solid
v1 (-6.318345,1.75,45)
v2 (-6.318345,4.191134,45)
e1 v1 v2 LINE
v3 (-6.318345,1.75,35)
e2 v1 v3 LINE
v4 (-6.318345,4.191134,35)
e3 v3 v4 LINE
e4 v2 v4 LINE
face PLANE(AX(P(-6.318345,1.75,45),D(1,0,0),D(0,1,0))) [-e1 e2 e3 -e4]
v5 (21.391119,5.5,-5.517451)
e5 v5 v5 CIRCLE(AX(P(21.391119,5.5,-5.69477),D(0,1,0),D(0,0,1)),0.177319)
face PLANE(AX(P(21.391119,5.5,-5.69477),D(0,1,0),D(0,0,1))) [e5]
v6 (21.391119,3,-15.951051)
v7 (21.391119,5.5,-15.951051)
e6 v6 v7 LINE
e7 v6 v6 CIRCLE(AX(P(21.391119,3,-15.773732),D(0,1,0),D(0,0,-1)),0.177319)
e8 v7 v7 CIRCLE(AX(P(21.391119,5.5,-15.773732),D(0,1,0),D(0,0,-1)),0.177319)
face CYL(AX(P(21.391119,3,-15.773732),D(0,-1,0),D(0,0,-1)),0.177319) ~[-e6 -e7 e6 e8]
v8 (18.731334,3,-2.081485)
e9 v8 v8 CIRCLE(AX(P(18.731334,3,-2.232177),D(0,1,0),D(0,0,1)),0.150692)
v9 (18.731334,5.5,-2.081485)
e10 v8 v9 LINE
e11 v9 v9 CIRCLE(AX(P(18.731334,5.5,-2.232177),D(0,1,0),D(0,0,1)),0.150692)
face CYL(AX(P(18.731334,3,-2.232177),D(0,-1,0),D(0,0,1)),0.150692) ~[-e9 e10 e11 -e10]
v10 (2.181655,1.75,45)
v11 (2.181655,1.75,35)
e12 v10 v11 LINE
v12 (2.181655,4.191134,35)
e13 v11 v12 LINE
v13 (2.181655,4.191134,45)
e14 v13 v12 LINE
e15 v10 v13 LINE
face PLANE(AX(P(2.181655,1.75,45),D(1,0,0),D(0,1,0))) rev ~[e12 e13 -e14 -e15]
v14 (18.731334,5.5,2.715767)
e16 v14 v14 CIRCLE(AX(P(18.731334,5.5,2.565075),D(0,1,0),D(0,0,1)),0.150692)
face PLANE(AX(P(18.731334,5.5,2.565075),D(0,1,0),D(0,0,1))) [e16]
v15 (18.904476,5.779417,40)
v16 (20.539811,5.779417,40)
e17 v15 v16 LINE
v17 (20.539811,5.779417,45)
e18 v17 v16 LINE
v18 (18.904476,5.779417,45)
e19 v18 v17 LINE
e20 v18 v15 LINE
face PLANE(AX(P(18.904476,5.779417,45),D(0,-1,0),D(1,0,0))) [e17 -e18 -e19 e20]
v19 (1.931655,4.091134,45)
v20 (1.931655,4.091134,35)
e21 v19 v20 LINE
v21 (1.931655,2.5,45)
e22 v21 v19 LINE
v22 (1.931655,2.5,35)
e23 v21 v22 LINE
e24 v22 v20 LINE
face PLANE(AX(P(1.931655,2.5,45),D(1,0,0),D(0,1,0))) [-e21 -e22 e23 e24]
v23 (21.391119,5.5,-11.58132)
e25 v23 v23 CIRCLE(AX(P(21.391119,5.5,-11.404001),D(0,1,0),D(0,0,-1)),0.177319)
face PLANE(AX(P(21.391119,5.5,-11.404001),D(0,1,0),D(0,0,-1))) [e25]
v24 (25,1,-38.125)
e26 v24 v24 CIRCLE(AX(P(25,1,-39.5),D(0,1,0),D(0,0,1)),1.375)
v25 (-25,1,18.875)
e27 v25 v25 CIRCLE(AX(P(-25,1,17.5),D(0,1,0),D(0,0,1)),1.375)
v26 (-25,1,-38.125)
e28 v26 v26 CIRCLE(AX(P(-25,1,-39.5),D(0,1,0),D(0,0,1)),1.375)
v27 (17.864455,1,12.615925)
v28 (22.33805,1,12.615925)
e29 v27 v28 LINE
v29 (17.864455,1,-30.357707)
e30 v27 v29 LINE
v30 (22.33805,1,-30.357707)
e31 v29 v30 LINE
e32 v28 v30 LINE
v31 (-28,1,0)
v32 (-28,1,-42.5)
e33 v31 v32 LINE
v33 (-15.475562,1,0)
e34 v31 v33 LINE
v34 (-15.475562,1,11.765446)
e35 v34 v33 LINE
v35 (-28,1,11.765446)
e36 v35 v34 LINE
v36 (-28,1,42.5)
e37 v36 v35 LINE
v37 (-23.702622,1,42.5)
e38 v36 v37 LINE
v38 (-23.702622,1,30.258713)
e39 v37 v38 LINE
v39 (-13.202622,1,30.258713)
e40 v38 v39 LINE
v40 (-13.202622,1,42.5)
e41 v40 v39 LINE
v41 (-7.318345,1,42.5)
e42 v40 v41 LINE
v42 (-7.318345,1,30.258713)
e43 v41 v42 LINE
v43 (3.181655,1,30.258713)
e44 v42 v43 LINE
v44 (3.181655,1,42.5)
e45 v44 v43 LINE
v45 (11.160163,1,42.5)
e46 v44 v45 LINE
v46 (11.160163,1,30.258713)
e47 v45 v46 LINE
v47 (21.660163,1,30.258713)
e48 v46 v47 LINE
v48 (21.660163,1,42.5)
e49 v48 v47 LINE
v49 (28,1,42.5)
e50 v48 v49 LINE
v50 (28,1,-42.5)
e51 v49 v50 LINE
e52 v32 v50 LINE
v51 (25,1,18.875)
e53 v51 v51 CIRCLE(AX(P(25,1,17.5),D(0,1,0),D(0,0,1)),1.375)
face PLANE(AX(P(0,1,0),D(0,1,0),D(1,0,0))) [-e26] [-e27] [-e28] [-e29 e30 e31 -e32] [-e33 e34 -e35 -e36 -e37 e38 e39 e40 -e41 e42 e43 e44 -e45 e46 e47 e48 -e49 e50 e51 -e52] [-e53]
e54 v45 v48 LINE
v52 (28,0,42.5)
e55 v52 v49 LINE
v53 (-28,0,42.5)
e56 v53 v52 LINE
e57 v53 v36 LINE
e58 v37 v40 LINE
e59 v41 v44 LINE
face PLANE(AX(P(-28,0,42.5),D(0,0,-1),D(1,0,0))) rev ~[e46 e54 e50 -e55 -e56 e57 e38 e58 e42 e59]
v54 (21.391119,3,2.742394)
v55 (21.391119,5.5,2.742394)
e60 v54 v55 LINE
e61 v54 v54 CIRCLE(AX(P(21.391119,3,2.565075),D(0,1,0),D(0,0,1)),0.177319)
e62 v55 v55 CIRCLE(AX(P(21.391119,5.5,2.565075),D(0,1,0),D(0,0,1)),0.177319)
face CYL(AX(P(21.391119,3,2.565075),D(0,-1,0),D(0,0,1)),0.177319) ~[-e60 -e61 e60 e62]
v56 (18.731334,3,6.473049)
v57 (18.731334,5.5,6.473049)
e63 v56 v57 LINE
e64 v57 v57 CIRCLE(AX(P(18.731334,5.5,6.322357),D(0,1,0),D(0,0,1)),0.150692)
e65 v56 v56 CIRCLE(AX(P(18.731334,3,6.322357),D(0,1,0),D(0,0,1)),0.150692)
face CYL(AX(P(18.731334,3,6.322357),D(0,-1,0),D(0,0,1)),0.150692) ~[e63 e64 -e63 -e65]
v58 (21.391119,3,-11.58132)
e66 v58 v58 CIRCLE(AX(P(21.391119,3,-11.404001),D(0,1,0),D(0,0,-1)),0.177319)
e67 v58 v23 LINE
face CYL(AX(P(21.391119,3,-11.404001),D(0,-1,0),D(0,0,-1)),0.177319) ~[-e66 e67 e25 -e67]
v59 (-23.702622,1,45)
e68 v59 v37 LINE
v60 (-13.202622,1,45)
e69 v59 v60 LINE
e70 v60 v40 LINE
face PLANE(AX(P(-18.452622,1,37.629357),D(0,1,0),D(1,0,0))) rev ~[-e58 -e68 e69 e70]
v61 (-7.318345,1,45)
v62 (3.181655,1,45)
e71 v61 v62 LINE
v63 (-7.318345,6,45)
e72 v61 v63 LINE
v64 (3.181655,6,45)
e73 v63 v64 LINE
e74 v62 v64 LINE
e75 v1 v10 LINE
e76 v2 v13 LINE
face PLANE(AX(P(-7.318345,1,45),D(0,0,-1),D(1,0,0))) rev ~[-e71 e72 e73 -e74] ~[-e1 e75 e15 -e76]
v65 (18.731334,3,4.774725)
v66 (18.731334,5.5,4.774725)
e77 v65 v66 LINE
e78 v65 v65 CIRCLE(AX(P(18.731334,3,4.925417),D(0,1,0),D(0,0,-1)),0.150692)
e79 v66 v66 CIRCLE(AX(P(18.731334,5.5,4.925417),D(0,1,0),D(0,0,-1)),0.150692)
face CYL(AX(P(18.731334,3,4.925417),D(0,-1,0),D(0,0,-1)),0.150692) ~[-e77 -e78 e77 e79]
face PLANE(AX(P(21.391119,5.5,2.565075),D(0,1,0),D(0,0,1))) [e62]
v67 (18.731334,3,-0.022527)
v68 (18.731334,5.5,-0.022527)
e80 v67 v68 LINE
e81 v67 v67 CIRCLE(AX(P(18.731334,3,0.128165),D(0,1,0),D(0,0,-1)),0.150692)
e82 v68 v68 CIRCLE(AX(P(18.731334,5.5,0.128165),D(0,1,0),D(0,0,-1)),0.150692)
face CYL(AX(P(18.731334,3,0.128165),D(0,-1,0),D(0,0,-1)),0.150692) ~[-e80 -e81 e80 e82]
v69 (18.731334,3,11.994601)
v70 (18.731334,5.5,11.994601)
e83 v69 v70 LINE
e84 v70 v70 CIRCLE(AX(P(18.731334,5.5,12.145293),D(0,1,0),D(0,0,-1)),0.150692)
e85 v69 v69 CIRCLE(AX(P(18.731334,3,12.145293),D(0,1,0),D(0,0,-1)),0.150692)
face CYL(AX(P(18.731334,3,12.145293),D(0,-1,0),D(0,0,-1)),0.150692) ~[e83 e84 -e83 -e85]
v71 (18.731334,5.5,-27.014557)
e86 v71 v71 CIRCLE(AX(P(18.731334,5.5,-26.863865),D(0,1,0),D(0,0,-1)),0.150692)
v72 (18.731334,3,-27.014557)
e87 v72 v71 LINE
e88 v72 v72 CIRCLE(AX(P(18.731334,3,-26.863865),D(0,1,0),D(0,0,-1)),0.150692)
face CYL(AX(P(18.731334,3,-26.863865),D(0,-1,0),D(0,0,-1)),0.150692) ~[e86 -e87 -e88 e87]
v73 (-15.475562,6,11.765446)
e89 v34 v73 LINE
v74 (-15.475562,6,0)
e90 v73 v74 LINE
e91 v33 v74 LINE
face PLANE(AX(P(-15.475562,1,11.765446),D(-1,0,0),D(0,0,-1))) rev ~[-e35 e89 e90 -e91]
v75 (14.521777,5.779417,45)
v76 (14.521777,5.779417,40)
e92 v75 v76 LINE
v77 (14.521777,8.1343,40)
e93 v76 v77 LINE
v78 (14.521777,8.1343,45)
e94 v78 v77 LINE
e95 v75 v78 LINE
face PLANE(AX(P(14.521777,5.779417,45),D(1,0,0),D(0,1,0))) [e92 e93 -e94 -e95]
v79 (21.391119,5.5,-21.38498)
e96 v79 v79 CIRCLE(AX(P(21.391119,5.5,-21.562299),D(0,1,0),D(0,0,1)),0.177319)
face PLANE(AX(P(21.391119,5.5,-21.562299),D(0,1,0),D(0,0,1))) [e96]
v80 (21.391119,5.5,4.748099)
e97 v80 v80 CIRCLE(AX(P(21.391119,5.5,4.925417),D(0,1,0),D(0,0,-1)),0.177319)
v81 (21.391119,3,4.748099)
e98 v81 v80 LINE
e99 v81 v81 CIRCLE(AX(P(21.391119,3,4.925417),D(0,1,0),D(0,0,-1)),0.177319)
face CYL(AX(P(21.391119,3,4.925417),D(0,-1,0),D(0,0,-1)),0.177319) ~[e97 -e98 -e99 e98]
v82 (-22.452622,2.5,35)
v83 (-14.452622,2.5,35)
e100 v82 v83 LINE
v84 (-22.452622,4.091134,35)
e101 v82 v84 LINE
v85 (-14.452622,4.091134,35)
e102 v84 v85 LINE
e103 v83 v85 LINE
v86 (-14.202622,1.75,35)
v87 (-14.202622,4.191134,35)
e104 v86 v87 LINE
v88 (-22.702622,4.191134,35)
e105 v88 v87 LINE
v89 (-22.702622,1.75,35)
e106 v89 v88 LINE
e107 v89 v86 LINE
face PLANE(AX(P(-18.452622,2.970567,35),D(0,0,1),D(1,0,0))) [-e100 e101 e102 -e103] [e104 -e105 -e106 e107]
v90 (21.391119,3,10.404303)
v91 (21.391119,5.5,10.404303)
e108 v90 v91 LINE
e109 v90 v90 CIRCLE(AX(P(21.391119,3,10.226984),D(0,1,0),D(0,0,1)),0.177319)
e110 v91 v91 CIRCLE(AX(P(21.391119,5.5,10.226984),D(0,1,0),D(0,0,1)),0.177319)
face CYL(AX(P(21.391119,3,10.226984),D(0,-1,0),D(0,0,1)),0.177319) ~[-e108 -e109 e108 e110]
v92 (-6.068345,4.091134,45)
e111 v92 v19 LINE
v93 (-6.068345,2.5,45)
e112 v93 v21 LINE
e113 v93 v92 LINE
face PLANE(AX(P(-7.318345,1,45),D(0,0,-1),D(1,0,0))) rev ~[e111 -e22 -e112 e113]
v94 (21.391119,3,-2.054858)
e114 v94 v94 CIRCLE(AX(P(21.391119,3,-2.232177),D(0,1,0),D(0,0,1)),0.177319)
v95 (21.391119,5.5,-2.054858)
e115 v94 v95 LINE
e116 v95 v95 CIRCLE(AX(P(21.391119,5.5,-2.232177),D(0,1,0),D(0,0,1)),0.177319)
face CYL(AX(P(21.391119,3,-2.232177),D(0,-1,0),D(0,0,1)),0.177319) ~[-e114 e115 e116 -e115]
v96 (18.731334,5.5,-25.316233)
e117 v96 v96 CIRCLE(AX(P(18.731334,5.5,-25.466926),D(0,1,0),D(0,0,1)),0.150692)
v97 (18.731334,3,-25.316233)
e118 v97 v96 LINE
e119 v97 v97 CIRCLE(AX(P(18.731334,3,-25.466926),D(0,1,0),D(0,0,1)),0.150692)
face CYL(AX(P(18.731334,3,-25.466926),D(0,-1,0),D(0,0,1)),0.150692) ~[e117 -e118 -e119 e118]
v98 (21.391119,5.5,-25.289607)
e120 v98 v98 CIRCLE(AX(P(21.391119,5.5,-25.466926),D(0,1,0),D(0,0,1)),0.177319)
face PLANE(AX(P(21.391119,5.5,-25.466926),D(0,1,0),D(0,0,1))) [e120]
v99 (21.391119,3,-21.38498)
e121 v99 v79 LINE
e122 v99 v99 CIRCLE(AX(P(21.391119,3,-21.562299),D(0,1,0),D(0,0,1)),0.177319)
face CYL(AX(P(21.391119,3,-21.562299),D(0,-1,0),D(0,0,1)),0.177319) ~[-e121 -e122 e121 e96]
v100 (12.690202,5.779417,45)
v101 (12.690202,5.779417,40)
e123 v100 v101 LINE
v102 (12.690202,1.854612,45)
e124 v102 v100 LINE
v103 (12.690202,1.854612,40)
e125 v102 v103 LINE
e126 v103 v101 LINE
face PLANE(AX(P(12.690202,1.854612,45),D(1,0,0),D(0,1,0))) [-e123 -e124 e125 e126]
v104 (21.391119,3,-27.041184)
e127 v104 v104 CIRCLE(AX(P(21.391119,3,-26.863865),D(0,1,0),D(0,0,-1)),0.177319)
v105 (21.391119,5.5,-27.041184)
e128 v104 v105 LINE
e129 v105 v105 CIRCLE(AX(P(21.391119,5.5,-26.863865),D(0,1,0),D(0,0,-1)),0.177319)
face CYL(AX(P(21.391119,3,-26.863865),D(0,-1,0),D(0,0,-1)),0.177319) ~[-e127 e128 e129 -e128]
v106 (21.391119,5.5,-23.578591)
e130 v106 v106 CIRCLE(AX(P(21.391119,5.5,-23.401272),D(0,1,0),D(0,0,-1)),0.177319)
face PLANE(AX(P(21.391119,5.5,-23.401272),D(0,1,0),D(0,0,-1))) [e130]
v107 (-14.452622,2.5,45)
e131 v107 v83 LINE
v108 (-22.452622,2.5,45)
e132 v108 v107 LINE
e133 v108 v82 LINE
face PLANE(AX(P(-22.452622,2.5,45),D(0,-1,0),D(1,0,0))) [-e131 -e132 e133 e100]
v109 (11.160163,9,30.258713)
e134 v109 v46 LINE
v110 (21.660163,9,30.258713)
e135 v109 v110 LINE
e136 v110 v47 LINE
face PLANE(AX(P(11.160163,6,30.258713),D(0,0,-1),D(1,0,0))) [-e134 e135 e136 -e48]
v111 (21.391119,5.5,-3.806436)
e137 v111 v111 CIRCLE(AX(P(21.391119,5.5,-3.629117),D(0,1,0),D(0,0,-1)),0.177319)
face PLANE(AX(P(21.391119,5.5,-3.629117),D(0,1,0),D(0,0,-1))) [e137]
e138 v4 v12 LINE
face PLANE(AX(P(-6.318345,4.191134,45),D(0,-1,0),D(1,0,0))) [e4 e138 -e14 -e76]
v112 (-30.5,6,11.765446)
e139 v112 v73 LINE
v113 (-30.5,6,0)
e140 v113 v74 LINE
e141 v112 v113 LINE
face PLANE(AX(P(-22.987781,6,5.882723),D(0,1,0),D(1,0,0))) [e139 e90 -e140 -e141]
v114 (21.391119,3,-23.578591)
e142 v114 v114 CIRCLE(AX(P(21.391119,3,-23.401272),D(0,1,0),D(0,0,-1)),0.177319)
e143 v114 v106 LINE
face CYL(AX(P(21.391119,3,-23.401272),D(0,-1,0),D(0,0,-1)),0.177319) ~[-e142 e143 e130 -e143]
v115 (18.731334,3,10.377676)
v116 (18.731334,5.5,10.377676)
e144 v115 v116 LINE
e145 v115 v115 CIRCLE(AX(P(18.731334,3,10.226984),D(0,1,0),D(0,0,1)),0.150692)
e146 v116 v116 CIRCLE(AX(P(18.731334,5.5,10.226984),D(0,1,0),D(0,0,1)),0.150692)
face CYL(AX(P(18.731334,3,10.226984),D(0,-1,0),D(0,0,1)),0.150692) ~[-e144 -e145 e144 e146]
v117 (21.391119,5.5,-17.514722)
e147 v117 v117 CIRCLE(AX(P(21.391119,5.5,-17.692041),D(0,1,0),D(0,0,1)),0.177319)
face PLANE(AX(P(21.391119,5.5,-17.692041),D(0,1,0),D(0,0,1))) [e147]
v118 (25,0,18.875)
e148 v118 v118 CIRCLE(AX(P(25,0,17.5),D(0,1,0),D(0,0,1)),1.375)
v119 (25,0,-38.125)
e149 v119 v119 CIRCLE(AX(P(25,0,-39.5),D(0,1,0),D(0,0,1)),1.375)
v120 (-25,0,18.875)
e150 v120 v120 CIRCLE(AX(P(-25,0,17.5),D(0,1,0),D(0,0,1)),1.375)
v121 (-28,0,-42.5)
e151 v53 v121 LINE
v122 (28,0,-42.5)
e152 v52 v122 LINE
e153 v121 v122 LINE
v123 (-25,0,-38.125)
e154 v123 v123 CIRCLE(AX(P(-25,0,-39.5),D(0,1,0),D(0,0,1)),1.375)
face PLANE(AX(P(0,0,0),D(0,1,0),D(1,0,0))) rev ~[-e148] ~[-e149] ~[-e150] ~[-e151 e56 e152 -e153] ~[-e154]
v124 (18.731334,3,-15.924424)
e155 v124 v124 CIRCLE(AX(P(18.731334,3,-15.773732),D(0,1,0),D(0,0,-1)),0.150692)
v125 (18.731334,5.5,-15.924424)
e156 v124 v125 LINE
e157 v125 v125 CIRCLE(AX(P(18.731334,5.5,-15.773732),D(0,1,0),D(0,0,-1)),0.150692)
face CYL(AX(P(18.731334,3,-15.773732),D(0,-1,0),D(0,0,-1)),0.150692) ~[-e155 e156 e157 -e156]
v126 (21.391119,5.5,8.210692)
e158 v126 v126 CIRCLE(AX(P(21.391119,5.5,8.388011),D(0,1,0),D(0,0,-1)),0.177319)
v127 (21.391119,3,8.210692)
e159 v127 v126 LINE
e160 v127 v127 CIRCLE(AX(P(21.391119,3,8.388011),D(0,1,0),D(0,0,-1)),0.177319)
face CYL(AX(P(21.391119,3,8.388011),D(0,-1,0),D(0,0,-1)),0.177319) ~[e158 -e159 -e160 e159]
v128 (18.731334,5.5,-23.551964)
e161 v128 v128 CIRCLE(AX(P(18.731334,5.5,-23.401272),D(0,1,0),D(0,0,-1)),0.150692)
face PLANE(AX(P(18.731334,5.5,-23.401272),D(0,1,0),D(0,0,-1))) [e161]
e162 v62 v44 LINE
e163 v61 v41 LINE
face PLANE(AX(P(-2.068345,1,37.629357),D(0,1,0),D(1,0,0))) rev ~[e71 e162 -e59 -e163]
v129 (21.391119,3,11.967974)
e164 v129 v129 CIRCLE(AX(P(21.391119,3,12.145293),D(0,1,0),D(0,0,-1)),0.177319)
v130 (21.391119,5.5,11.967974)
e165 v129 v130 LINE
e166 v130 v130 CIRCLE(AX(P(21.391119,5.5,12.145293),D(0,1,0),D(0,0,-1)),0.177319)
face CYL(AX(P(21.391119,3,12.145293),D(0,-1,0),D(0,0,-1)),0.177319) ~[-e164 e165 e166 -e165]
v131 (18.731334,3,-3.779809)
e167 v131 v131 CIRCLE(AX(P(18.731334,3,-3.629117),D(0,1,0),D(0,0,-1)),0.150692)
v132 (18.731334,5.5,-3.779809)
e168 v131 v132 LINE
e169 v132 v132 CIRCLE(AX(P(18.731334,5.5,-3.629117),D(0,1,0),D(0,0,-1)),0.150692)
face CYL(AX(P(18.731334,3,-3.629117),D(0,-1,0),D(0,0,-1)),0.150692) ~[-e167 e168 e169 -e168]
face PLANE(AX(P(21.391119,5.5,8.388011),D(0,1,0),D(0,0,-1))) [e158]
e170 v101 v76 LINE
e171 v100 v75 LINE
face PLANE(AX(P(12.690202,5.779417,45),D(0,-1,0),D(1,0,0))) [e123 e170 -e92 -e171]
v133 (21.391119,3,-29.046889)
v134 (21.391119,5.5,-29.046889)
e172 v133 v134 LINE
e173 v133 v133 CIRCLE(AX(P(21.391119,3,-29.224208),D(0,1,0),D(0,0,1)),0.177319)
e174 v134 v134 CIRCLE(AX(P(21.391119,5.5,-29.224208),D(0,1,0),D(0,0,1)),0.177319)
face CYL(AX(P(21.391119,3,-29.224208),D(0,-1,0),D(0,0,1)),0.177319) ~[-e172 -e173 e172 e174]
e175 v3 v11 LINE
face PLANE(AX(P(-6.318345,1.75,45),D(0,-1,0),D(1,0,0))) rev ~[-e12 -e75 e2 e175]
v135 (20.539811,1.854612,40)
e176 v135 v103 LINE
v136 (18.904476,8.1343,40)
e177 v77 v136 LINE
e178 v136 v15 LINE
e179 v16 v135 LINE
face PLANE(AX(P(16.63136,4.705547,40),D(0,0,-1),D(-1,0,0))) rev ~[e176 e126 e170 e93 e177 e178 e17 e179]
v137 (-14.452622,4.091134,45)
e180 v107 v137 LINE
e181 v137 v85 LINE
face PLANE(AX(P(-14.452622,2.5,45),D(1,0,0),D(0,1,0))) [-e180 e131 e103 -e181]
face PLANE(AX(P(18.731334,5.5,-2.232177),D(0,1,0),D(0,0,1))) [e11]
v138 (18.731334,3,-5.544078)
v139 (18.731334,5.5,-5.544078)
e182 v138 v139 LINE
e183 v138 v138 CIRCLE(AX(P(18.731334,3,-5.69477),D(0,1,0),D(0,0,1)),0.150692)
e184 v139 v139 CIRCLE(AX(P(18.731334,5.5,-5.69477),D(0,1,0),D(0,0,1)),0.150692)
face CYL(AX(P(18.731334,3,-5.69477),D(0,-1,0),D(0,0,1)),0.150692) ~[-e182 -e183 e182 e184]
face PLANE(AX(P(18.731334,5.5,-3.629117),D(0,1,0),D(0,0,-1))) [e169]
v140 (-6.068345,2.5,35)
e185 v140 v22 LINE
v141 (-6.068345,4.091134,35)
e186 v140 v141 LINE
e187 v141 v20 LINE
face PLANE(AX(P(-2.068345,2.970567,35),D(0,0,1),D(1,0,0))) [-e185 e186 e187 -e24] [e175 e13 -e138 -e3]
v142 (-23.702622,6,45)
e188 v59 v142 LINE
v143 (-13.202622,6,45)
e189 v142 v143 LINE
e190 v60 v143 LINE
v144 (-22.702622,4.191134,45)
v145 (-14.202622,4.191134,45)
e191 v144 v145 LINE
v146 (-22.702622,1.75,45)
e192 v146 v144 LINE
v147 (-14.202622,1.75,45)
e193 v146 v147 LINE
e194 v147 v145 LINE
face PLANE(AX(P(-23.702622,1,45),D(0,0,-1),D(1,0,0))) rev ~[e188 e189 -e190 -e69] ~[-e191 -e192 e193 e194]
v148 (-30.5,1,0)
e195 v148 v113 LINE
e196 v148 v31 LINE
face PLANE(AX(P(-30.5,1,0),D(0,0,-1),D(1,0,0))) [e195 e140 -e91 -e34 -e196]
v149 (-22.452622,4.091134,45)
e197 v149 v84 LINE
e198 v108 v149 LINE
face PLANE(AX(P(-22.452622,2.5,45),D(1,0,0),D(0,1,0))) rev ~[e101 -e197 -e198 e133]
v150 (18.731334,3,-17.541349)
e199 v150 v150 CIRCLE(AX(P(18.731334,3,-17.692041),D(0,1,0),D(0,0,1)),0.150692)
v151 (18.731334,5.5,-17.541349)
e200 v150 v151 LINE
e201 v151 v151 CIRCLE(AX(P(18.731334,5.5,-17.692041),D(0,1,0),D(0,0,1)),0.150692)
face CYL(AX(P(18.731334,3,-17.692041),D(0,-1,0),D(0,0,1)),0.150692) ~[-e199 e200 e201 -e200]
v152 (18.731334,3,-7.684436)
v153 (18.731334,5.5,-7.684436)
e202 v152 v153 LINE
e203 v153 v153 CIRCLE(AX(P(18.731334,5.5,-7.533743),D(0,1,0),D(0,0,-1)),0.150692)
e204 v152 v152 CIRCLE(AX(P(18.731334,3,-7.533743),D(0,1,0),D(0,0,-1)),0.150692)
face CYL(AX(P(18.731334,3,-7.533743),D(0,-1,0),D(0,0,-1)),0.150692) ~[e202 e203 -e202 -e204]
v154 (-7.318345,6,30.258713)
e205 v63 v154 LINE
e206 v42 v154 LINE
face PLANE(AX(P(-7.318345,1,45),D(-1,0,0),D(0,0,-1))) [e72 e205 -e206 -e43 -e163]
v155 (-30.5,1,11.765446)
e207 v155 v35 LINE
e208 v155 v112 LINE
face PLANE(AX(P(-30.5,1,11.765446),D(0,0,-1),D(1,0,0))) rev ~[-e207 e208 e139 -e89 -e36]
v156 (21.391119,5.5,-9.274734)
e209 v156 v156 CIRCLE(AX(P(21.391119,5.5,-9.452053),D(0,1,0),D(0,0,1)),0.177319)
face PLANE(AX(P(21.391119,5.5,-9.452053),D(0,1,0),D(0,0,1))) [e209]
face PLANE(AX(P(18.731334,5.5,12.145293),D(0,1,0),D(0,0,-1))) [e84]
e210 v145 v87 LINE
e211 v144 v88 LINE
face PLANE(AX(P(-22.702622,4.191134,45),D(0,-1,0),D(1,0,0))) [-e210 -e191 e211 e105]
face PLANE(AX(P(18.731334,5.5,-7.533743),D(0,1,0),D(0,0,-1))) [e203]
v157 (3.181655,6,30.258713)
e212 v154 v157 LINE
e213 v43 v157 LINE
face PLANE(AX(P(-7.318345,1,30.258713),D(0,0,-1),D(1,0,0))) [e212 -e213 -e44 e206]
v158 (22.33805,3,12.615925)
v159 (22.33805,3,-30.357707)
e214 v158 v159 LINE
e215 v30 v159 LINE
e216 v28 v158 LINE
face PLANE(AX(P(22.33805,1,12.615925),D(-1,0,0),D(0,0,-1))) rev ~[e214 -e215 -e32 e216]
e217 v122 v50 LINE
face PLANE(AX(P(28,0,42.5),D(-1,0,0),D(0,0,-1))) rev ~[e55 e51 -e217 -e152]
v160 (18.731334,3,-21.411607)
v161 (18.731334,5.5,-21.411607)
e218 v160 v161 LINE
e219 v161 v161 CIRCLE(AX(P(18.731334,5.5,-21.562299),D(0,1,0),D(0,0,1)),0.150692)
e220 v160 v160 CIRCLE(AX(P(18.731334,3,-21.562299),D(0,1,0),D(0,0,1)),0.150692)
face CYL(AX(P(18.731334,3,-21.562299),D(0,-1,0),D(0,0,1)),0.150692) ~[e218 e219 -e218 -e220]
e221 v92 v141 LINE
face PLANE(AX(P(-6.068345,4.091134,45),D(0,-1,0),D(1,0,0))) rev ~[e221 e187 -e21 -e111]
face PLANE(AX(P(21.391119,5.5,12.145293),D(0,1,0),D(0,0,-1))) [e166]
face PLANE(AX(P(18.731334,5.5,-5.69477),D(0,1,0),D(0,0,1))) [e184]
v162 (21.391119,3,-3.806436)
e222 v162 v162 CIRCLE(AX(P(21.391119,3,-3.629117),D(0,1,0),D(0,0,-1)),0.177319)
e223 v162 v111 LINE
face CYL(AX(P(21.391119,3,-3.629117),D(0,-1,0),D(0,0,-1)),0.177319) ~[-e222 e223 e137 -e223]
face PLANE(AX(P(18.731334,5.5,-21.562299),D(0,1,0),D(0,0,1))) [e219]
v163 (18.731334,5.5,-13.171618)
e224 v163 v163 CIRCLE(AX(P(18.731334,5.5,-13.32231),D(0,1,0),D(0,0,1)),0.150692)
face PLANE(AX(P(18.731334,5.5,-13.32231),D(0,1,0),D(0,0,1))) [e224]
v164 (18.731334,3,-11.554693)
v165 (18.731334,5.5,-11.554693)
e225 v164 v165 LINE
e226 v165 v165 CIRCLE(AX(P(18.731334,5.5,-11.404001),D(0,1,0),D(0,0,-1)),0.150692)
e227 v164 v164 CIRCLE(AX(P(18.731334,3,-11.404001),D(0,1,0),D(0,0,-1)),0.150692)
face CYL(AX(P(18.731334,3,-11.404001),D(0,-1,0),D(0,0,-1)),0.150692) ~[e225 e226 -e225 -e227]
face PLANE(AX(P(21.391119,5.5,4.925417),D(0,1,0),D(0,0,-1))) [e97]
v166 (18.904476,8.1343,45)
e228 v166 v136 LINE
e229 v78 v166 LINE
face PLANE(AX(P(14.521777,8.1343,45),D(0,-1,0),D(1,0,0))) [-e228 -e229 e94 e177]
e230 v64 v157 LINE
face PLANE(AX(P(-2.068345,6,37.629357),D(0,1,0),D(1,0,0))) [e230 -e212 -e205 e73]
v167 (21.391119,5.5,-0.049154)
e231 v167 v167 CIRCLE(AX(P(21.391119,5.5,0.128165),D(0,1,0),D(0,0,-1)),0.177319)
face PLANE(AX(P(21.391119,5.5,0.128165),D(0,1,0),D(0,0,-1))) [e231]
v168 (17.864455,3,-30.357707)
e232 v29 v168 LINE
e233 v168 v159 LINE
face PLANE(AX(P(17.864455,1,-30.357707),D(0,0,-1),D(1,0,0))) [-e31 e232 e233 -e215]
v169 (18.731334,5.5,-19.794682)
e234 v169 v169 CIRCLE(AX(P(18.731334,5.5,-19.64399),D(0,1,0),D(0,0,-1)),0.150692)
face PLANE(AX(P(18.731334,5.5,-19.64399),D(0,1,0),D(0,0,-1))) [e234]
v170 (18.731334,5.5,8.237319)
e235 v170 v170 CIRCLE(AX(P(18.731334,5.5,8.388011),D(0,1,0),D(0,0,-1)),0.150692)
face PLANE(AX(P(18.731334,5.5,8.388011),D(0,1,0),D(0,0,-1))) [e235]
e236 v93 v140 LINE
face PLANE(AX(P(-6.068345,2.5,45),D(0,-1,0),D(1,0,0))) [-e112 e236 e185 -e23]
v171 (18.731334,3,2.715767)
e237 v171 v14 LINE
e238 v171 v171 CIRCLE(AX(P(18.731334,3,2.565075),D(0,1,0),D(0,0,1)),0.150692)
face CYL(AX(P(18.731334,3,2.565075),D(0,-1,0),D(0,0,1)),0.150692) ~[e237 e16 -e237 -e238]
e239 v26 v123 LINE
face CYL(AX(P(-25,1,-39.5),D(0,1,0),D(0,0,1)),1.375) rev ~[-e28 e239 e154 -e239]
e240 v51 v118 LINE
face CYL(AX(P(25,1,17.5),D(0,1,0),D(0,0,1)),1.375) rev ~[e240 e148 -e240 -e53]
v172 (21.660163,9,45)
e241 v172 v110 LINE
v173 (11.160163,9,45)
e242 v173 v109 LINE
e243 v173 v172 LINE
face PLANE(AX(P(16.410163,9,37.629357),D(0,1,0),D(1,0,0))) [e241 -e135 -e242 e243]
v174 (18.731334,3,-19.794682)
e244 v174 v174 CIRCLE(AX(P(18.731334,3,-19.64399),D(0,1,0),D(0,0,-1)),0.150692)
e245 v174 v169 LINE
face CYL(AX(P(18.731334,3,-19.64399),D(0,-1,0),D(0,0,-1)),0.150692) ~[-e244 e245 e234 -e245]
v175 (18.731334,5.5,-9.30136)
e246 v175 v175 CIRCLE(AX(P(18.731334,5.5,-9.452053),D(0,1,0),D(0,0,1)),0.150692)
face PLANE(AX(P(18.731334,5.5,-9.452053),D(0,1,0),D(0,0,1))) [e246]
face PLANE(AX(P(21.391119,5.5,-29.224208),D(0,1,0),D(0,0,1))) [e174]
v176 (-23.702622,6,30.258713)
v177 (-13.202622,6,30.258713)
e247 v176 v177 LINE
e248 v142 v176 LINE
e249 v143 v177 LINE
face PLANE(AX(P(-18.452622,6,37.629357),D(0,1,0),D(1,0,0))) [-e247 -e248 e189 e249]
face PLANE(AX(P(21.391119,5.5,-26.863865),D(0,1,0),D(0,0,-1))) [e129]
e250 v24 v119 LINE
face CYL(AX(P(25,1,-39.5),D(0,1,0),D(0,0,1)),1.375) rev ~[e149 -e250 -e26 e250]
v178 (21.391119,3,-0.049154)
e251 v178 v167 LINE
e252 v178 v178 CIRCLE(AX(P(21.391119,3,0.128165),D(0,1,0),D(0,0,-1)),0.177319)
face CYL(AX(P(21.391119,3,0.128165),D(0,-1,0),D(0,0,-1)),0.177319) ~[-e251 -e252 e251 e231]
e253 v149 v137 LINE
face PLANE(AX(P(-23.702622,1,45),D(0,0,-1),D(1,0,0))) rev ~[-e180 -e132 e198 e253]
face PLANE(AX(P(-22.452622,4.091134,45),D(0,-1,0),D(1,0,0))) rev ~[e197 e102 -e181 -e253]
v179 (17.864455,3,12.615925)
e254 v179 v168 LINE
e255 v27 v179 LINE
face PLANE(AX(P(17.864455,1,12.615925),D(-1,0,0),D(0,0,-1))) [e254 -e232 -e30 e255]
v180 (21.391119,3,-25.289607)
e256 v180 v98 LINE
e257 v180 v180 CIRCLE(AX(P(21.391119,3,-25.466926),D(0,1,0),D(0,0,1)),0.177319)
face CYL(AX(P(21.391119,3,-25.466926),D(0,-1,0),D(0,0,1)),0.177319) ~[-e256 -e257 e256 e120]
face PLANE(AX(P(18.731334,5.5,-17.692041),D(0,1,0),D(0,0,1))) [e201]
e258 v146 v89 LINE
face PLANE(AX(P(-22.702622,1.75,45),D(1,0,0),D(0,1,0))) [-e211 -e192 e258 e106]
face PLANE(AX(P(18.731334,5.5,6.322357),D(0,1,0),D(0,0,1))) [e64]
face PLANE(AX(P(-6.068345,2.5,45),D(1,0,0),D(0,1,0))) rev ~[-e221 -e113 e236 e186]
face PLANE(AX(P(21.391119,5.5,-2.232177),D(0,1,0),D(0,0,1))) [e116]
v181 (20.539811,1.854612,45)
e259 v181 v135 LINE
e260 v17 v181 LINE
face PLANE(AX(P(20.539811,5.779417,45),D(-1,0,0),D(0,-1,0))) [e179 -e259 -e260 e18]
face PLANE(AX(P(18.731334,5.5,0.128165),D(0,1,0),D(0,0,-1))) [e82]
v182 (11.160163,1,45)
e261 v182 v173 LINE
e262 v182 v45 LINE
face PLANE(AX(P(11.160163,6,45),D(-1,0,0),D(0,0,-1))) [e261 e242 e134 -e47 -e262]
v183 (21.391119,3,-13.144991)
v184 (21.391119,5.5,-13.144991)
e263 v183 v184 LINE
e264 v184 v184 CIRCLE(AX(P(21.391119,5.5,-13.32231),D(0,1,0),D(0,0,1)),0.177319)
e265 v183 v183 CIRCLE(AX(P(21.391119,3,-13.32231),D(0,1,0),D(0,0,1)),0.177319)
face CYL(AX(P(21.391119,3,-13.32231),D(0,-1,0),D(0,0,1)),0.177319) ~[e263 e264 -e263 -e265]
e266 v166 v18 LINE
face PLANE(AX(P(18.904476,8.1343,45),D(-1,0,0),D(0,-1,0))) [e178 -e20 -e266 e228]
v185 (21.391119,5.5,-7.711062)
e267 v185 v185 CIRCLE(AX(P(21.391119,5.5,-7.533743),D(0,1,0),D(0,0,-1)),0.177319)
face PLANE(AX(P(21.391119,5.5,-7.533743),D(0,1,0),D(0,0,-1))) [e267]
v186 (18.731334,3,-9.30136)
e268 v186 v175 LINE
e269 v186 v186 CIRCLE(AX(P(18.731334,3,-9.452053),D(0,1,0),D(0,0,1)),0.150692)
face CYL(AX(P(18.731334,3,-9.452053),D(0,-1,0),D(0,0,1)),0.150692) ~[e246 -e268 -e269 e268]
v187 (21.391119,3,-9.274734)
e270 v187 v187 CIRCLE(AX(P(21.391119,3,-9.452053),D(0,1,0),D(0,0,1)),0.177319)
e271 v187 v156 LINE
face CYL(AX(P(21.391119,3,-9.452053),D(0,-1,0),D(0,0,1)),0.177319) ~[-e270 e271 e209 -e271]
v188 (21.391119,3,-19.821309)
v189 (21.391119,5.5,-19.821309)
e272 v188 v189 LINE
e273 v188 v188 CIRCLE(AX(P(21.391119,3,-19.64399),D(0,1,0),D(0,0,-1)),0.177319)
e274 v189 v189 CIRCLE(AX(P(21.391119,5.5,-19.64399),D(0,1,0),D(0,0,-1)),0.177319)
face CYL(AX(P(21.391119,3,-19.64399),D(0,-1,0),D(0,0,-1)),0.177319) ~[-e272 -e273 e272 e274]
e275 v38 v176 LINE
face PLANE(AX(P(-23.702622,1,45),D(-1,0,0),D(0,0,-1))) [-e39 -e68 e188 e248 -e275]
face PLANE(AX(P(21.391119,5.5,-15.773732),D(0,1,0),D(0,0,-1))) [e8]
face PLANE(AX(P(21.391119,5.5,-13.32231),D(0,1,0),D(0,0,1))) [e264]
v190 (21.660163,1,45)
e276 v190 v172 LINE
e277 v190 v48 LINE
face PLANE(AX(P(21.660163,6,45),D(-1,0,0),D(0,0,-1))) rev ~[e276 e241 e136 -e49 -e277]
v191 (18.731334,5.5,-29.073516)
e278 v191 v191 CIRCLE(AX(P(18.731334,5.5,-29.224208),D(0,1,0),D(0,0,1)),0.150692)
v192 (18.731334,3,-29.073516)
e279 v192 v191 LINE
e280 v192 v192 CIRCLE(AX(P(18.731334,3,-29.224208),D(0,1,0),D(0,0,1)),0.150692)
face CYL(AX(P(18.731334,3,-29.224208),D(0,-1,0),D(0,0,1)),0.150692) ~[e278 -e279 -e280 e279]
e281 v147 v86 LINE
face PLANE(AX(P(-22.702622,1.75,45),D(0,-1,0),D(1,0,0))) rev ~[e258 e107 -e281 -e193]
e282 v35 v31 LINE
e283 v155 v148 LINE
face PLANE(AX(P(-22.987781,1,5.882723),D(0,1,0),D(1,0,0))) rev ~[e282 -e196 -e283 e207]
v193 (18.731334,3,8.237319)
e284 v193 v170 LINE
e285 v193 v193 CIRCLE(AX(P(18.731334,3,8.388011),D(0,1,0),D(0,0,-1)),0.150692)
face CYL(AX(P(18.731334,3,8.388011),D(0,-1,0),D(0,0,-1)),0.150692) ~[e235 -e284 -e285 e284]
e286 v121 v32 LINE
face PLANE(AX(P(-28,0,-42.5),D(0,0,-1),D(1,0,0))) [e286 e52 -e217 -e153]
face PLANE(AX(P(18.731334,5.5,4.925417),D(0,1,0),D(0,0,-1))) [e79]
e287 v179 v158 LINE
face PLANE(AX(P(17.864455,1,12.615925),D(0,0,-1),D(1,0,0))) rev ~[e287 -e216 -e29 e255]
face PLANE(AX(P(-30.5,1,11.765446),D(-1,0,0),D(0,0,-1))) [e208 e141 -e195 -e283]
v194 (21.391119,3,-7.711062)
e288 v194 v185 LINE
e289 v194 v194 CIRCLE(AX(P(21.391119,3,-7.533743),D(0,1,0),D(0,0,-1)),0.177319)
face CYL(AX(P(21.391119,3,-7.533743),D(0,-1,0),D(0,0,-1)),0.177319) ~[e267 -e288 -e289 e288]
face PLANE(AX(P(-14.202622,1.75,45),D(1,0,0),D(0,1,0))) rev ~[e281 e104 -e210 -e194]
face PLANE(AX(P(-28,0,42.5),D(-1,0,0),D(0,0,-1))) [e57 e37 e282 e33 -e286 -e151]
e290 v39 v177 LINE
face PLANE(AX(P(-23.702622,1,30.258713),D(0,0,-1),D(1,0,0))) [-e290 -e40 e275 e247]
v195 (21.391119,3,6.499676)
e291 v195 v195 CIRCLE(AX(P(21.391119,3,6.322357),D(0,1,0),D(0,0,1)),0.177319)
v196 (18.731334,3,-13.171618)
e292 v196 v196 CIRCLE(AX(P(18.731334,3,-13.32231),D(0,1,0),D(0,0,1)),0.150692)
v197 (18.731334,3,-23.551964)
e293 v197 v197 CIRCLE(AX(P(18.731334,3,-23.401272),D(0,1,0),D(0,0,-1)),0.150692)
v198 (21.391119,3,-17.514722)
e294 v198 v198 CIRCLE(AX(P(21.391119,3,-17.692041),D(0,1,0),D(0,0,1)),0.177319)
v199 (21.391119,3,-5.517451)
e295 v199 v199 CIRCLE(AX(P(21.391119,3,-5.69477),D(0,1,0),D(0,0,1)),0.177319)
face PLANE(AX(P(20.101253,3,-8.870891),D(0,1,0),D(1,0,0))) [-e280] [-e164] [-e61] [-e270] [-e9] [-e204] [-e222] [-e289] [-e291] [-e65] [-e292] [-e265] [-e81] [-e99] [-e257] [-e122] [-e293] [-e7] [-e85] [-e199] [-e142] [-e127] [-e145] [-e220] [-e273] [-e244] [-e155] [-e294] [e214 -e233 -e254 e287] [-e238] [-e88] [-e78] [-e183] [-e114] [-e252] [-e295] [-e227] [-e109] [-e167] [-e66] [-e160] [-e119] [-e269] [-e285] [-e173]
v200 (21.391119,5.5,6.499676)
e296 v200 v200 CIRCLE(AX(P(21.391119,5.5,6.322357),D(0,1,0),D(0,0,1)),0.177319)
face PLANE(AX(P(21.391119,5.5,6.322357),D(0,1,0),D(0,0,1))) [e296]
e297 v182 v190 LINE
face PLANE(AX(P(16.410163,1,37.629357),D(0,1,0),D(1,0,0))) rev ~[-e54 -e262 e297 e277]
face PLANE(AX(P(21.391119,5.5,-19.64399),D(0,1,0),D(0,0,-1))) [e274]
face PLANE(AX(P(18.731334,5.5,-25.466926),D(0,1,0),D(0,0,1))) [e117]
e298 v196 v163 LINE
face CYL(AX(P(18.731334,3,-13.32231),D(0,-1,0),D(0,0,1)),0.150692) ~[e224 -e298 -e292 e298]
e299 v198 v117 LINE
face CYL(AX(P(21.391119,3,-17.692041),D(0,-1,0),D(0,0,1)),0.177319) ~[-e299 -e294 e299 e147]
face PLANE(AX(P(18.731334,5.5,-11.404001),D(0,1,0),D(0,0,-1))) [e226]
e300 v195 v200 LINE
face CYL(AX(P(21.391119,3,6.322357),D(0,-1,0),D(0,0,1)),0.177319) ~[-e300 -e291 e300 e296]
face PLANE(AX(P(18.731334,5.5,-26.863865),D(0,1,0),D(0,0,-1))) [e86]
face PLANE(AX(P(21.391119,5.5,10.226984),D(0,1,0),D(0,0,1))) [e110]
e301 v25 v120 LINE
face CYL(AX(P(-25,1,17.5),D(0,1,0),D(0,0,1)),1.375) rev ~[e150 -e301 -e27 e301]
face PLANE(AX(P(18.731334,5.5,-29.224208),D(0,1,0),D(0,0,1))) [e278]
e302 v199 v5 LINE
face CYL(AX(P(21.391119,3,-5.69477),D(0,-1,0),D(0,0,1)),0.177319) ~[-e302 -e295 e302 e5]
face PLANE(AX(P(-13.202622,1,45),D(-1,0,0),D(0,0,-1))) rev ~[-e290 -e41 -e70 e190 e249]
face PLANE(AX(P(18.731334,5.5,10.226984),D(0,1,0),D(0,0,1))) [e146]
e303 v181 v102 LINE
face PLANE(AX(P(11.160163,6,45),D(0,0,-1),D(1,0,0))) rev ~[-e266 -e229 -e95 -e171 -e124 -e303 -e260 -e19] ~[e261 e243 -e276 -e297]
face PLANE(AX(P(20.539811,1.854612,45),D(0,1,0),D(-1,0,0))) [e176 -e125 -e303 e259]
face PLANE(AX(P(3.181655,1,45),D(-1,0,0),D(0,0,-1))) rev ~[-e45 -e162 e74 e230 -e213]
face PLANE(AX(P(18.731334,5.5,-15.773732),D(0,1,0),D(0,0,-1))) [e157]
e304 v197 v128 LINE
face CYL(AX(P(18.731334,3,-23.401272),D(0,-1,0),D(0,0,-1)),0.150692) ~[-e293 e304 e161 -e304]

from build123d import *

# Parameters (mm, degrees)
SKETCH1_W           = 56
SKETCH1_H           = 85
BOSS_EXTRUDE2_DEPTH = 1
SKETCH2_R           = 1.375
CUT_EXTRUDE1_DEPTH  = 2
SKETCH3_W           = 10.5
SKETCH3_H           = 14.7412865
BOSS_EXTRUDE3_DEPTH = 5
SKETCH5_W           = 10.5
SKETCH5_H           = 14.7412865
BOSS_EXTRUDE4_DEPTH = 3
CUT_EXTRUDE3_DEPTH  = 5
SKETCH7_W           = 15.02443759
SKETCH7_H           = 11.765446253
BOSS_EXTRUDE5_DEPTH = 5
SKETCH8_W           = 4.473595772
SKETCH8_H           = 42.973632112
BOSS_EXTRUDE6_DEPTH = 2
SKETCH9_R           = 0.150692164
SKETCH9_R_2         = 0.177318989
BOSS_EXTRUDE7_DEPTH = 2.5
SKETCH10_W          = 8.5
SKETCH10_H          = 2.441134092
SKETCH10_W_2        = 8
SKETCH10_H_2        = 1.591134092
CUT_EXTRUDE4_DEPTH  = 10


with BuildPart() as part:
    # Sketch1 → Boss-Extrude2 (new body)
    with BuildSketch(Plane(origin=(0, 0, 0), x_dir=(1, 0, 0), z_dir=(0, 1, 0))):
        Rectangle(SKETCH1_W, SKETCH1_H)
    extrude(amount=BOSS_EXTRUDE2_DEPTH)

    # Sketch2 → Cut-Extrude1 (cut)
    with BuildSketch(Plane(origin=(0, 1, 0), x_dir=(1, 0, 0), z_dir=(0, 1, 0))):
        with Locations((-25, 39.5)):
            Circle(SKETCH2_R)
        with Locations((-25, -17.5)):
            Circle(SKETCH2_R)
        with Locations((25, -17.5)):
            Circle(SKETCH2_R)
        with Locations((25, 39.5)):
            Circle(SKETCH2_R)
    extrude(amount=-CUT_EXTRUDE1_DEPTH, mode=Mode.SUBTRACT)

    # Sketch3 → Boss-Extrude3 (add)
    with BuildSketch(Plane(origin=(0, 1, 0), x_dir=(1, 0, 0), z_dir=(0, 1, 0))):
        with Locations((-18.452622363, -37.62935675)):
            Rectangle(SKETCH3_W, SKETCH3_H)
        with Locations((-2.068345025, -37.62935675)):
            Rectangle(SKETCH3_W, SKETCH3_H)
        with Locations((16.410163251, -37.62935675)):
            Rectangle(SKETCH3_W, SKETCH3_H)
    extrude(amount=BOSS_EXTRUDE3_DEPTH)

    # Sketch5 → Boss-Extrude4 (add)
    with BuildSketch(Plane(origin=(0, 6, 0), x_dir=(1, 0, 0), z_dir=(0, 1, 0))):
        with Locations((16.410163251, -37.62935675)):
            Rectangle(SKETCH5_W, SKETCH5_H)
    extrude(amount=BOSS_EXTRUDE4_DEPTH)

    # Sketch6 → Cut-Extrude3 (cut)
    with BuildSketch(Plane.XY.offset(45)):
        Polygon((18.904475678, 5.77941685), (20.539810944, 5.77941685), (20.539810944, 1.854612211), (12.690201666, 1.854612211), (12.690201666, 5.77941685), (14.521777165, 5.77941685), (14.521777165, 8.134299634), (18.904475678, 8.134299634), align=None)
    extrude(amount=-CUT_EXTRUDE3_DEPTH, mode=Mode.SUBTRACT)

    # Sketch7 → Boss-Extrude5 (add)
    with BuildSketch(Plane(origin=(0, 1, 0), x_dir=(1, 0, 0), z_dir=(0, 1, 0))):
        with Locations((-22.987781205, -5.882723127)):
            Rectangle(SKETCH7_W, SKETCH7_H)
    extrude(amount=BOSS_EXTRUDE5_DEPTH)

    # Sketch8 → Boss-Extrude6 (add)
    with BuildSketch(Plane(origin=(0, 1, 0), x_dir=(1, 0, 0), z_dir=(0, 1, 0))):
        with Locations((20.101252547, 8.8708907)):
            Rectangle(SKETCH8_W, SKETCH8_H)
    extrude(amount=BOSS_EXTRUDE6_DEPTH)

    # Sketch9 → Boss-Extrude7 (add)
    with BuildSketch(Plane(origin=(0, 3, 0), x_dir=(1, 0, 0), z_dir=(0, 1, 0))):
        with Locations((18.731333841, 29.224207716)):
            Circle(SKETCH9_R)
        with Locations((21.39111867, 29.224207716)):
            Circle(SKETCH9_R_2)
        with Locations((21.39111867, 26.863865293)):
            Circle(SKETCH9_R_2)
        with Locations((18.731333841, 26.863865293)):
            Circle(SKETCH9_R)
        with Locations((21.39111867, 19.643989812)):
            Circle(SKETCH9_R_2)
        with Locations((18.731333841, 19.643989812)):
            Circle(SKETCH9_R)
        with Locations((18.731333841, 25.466925578)):
            Circle(SKETCH9_R)
        with Locations((21.39111867, 25.466925578)):
            Circle(SKETCH9_R_2)
        with Locations((21.39111867, 23.40127195)):
            Circle(SKETCH9_R_2)
        with Locations((18.731333841, 23.40127195)):
            Circle(SKETCH9_R)
        with Locations((21.39111867, 21.562299043)):
            Circle(SKETCH9_R_2)
        with Locations((18.731333841, 21.562299043)):
            Circle(SKETCH9_R)
        with Locations((21.39111867, 17.692041416)):
            Circle(SKETCH9_R_2)
        with Locations((18.731333841, 17.692041416)):
            Circle(SKETCH9_R)
        with Locations((21.39111867, 15.773732186)):
            Circle(SKETCH9_R_2)
        with Locations((18.731333841, 15.773732186)):
            Circle(SKETCH9_R)
        with Locations((18.731333841, 13.322310221)):
            Circle(SKETCH9_R)
        with Locations((21.39111867, 13.322310221)):
            Circle(SKETCH9_R_2)
        with Locations((18.731333841, 11.404000991)):
            Circle(SKETCH9_R)
        with Locations((21.39111867, 11.404000991)):
            Circle(SKETCH9_R_2)
        with Locations((18.731333841, 7.533743365)):
            Circle(SKETCH9_R)
        with Locations((21.39111867, 7.533743365)):
            Circle(SKETCH9_R_2)
        with Locations((18.731333841, 5.694770457)):
            Circle(SKETCH9_R)
        with Locations((21.39111867, 5.694770457)):
            Circle(SKETCH9_R_2)
        with Locations((21.39111867, 3.62911683)):
            Circle(SKETCH9_R_2)
        with Locations((18.731333841, 3.62911683)):
            Circle(SKETCH9_R)
        with Locations((18.731333841, 9.452052595)):
            Circle(SKETCH9_R)
        with Locations((21.39111867, 9.452052595)):
            Circle(SKETCH9_R_2)
        with Locations((18.731333841, 2.232177114)):
            Circle(SKETCH9_R)
        with Locations((21.39111867, 2.232177114)):
            Circle(SKETCH9_R_2)
        with Locations((21.39111867, -0.128165309)):
            Circle(SKETCH9_R_2)
        with Locations((18.731333841, -0.128165309)):
            Circle(SKETCH9_R)
        with Locations((21.39111867, -12.145292971)):
            Circle(SKETCH9_R_2)
        with Locations((18.731333841, -12.145292971)):
            Circle(SKETCH9_R)
        with Locations((18.731333841, -2.565075067)):
            Circle(SKETCH9_R)
        with Locations((21.39111867, -2.565075067)):
            Circle(SKETCH9_R_2)
        with Locations((21.39111867, -4.92541749)):
            Circle(SKETCH9_R_2)
        with Locations((18.731333841, -4.92541749)):
            Circle(SKETCH9_R)
        with Locations((18.731333841, -6.322357206)):
            Circle(SKETCH9_R)
        with Locations((21.39111867, -6.322357206)):
            Circle(SKETCH9_R_2)
        with Locations((21.39111867, -8.388010833)):
            Circle(SKETCH9_R_2)
        with Locations((18.731333841, -8.388010833)):
            Circle(SKETCH9_R)
        with Locations((21.39111867, -10.226983741)):
            Circle(SKETCH9_R_2)
        with Locations((18.731333841, -10.226983741)):
            Circle(SKETCH9_R)
    extrude(amount=BOSS_EXTRUDE7_DEPTH)

    # Sketch10 → Cut-Extrude4 (cut)
    # profile 1 of 2: a face of its own
    with BuildSketch(Plane.XY.offset(45)):
        with Locations((-18.452622363, 2.970567046)):
            Rectangle(SKETCH10_W, SKETCH10_H)
        with Locations((-18.452622363, 3.295567046)):
            Rectangle(SKETCH10_W_2, SKETCH10_H_2, mode=Mode.SUBTRACT)
    # profile 2 of 2: a face of its own
    with BuildSketch(Plane.XY.offset(45)):
        with Locations((-2.068345025, 2.970567046)):
            Rectangle(SKETCH10_W, SKETCH10_H)
        with Locations((-2.068345025, 3.295567046)):
            Rectangle(SKETCH10_W_2, SKETCH10_H_2, mode=Mode.SUBTRACT)
    extrude(amount=-CUT_EXTRUDE4_DEPTH, mode=Mode.SUBTRACT)


solid = part.part
